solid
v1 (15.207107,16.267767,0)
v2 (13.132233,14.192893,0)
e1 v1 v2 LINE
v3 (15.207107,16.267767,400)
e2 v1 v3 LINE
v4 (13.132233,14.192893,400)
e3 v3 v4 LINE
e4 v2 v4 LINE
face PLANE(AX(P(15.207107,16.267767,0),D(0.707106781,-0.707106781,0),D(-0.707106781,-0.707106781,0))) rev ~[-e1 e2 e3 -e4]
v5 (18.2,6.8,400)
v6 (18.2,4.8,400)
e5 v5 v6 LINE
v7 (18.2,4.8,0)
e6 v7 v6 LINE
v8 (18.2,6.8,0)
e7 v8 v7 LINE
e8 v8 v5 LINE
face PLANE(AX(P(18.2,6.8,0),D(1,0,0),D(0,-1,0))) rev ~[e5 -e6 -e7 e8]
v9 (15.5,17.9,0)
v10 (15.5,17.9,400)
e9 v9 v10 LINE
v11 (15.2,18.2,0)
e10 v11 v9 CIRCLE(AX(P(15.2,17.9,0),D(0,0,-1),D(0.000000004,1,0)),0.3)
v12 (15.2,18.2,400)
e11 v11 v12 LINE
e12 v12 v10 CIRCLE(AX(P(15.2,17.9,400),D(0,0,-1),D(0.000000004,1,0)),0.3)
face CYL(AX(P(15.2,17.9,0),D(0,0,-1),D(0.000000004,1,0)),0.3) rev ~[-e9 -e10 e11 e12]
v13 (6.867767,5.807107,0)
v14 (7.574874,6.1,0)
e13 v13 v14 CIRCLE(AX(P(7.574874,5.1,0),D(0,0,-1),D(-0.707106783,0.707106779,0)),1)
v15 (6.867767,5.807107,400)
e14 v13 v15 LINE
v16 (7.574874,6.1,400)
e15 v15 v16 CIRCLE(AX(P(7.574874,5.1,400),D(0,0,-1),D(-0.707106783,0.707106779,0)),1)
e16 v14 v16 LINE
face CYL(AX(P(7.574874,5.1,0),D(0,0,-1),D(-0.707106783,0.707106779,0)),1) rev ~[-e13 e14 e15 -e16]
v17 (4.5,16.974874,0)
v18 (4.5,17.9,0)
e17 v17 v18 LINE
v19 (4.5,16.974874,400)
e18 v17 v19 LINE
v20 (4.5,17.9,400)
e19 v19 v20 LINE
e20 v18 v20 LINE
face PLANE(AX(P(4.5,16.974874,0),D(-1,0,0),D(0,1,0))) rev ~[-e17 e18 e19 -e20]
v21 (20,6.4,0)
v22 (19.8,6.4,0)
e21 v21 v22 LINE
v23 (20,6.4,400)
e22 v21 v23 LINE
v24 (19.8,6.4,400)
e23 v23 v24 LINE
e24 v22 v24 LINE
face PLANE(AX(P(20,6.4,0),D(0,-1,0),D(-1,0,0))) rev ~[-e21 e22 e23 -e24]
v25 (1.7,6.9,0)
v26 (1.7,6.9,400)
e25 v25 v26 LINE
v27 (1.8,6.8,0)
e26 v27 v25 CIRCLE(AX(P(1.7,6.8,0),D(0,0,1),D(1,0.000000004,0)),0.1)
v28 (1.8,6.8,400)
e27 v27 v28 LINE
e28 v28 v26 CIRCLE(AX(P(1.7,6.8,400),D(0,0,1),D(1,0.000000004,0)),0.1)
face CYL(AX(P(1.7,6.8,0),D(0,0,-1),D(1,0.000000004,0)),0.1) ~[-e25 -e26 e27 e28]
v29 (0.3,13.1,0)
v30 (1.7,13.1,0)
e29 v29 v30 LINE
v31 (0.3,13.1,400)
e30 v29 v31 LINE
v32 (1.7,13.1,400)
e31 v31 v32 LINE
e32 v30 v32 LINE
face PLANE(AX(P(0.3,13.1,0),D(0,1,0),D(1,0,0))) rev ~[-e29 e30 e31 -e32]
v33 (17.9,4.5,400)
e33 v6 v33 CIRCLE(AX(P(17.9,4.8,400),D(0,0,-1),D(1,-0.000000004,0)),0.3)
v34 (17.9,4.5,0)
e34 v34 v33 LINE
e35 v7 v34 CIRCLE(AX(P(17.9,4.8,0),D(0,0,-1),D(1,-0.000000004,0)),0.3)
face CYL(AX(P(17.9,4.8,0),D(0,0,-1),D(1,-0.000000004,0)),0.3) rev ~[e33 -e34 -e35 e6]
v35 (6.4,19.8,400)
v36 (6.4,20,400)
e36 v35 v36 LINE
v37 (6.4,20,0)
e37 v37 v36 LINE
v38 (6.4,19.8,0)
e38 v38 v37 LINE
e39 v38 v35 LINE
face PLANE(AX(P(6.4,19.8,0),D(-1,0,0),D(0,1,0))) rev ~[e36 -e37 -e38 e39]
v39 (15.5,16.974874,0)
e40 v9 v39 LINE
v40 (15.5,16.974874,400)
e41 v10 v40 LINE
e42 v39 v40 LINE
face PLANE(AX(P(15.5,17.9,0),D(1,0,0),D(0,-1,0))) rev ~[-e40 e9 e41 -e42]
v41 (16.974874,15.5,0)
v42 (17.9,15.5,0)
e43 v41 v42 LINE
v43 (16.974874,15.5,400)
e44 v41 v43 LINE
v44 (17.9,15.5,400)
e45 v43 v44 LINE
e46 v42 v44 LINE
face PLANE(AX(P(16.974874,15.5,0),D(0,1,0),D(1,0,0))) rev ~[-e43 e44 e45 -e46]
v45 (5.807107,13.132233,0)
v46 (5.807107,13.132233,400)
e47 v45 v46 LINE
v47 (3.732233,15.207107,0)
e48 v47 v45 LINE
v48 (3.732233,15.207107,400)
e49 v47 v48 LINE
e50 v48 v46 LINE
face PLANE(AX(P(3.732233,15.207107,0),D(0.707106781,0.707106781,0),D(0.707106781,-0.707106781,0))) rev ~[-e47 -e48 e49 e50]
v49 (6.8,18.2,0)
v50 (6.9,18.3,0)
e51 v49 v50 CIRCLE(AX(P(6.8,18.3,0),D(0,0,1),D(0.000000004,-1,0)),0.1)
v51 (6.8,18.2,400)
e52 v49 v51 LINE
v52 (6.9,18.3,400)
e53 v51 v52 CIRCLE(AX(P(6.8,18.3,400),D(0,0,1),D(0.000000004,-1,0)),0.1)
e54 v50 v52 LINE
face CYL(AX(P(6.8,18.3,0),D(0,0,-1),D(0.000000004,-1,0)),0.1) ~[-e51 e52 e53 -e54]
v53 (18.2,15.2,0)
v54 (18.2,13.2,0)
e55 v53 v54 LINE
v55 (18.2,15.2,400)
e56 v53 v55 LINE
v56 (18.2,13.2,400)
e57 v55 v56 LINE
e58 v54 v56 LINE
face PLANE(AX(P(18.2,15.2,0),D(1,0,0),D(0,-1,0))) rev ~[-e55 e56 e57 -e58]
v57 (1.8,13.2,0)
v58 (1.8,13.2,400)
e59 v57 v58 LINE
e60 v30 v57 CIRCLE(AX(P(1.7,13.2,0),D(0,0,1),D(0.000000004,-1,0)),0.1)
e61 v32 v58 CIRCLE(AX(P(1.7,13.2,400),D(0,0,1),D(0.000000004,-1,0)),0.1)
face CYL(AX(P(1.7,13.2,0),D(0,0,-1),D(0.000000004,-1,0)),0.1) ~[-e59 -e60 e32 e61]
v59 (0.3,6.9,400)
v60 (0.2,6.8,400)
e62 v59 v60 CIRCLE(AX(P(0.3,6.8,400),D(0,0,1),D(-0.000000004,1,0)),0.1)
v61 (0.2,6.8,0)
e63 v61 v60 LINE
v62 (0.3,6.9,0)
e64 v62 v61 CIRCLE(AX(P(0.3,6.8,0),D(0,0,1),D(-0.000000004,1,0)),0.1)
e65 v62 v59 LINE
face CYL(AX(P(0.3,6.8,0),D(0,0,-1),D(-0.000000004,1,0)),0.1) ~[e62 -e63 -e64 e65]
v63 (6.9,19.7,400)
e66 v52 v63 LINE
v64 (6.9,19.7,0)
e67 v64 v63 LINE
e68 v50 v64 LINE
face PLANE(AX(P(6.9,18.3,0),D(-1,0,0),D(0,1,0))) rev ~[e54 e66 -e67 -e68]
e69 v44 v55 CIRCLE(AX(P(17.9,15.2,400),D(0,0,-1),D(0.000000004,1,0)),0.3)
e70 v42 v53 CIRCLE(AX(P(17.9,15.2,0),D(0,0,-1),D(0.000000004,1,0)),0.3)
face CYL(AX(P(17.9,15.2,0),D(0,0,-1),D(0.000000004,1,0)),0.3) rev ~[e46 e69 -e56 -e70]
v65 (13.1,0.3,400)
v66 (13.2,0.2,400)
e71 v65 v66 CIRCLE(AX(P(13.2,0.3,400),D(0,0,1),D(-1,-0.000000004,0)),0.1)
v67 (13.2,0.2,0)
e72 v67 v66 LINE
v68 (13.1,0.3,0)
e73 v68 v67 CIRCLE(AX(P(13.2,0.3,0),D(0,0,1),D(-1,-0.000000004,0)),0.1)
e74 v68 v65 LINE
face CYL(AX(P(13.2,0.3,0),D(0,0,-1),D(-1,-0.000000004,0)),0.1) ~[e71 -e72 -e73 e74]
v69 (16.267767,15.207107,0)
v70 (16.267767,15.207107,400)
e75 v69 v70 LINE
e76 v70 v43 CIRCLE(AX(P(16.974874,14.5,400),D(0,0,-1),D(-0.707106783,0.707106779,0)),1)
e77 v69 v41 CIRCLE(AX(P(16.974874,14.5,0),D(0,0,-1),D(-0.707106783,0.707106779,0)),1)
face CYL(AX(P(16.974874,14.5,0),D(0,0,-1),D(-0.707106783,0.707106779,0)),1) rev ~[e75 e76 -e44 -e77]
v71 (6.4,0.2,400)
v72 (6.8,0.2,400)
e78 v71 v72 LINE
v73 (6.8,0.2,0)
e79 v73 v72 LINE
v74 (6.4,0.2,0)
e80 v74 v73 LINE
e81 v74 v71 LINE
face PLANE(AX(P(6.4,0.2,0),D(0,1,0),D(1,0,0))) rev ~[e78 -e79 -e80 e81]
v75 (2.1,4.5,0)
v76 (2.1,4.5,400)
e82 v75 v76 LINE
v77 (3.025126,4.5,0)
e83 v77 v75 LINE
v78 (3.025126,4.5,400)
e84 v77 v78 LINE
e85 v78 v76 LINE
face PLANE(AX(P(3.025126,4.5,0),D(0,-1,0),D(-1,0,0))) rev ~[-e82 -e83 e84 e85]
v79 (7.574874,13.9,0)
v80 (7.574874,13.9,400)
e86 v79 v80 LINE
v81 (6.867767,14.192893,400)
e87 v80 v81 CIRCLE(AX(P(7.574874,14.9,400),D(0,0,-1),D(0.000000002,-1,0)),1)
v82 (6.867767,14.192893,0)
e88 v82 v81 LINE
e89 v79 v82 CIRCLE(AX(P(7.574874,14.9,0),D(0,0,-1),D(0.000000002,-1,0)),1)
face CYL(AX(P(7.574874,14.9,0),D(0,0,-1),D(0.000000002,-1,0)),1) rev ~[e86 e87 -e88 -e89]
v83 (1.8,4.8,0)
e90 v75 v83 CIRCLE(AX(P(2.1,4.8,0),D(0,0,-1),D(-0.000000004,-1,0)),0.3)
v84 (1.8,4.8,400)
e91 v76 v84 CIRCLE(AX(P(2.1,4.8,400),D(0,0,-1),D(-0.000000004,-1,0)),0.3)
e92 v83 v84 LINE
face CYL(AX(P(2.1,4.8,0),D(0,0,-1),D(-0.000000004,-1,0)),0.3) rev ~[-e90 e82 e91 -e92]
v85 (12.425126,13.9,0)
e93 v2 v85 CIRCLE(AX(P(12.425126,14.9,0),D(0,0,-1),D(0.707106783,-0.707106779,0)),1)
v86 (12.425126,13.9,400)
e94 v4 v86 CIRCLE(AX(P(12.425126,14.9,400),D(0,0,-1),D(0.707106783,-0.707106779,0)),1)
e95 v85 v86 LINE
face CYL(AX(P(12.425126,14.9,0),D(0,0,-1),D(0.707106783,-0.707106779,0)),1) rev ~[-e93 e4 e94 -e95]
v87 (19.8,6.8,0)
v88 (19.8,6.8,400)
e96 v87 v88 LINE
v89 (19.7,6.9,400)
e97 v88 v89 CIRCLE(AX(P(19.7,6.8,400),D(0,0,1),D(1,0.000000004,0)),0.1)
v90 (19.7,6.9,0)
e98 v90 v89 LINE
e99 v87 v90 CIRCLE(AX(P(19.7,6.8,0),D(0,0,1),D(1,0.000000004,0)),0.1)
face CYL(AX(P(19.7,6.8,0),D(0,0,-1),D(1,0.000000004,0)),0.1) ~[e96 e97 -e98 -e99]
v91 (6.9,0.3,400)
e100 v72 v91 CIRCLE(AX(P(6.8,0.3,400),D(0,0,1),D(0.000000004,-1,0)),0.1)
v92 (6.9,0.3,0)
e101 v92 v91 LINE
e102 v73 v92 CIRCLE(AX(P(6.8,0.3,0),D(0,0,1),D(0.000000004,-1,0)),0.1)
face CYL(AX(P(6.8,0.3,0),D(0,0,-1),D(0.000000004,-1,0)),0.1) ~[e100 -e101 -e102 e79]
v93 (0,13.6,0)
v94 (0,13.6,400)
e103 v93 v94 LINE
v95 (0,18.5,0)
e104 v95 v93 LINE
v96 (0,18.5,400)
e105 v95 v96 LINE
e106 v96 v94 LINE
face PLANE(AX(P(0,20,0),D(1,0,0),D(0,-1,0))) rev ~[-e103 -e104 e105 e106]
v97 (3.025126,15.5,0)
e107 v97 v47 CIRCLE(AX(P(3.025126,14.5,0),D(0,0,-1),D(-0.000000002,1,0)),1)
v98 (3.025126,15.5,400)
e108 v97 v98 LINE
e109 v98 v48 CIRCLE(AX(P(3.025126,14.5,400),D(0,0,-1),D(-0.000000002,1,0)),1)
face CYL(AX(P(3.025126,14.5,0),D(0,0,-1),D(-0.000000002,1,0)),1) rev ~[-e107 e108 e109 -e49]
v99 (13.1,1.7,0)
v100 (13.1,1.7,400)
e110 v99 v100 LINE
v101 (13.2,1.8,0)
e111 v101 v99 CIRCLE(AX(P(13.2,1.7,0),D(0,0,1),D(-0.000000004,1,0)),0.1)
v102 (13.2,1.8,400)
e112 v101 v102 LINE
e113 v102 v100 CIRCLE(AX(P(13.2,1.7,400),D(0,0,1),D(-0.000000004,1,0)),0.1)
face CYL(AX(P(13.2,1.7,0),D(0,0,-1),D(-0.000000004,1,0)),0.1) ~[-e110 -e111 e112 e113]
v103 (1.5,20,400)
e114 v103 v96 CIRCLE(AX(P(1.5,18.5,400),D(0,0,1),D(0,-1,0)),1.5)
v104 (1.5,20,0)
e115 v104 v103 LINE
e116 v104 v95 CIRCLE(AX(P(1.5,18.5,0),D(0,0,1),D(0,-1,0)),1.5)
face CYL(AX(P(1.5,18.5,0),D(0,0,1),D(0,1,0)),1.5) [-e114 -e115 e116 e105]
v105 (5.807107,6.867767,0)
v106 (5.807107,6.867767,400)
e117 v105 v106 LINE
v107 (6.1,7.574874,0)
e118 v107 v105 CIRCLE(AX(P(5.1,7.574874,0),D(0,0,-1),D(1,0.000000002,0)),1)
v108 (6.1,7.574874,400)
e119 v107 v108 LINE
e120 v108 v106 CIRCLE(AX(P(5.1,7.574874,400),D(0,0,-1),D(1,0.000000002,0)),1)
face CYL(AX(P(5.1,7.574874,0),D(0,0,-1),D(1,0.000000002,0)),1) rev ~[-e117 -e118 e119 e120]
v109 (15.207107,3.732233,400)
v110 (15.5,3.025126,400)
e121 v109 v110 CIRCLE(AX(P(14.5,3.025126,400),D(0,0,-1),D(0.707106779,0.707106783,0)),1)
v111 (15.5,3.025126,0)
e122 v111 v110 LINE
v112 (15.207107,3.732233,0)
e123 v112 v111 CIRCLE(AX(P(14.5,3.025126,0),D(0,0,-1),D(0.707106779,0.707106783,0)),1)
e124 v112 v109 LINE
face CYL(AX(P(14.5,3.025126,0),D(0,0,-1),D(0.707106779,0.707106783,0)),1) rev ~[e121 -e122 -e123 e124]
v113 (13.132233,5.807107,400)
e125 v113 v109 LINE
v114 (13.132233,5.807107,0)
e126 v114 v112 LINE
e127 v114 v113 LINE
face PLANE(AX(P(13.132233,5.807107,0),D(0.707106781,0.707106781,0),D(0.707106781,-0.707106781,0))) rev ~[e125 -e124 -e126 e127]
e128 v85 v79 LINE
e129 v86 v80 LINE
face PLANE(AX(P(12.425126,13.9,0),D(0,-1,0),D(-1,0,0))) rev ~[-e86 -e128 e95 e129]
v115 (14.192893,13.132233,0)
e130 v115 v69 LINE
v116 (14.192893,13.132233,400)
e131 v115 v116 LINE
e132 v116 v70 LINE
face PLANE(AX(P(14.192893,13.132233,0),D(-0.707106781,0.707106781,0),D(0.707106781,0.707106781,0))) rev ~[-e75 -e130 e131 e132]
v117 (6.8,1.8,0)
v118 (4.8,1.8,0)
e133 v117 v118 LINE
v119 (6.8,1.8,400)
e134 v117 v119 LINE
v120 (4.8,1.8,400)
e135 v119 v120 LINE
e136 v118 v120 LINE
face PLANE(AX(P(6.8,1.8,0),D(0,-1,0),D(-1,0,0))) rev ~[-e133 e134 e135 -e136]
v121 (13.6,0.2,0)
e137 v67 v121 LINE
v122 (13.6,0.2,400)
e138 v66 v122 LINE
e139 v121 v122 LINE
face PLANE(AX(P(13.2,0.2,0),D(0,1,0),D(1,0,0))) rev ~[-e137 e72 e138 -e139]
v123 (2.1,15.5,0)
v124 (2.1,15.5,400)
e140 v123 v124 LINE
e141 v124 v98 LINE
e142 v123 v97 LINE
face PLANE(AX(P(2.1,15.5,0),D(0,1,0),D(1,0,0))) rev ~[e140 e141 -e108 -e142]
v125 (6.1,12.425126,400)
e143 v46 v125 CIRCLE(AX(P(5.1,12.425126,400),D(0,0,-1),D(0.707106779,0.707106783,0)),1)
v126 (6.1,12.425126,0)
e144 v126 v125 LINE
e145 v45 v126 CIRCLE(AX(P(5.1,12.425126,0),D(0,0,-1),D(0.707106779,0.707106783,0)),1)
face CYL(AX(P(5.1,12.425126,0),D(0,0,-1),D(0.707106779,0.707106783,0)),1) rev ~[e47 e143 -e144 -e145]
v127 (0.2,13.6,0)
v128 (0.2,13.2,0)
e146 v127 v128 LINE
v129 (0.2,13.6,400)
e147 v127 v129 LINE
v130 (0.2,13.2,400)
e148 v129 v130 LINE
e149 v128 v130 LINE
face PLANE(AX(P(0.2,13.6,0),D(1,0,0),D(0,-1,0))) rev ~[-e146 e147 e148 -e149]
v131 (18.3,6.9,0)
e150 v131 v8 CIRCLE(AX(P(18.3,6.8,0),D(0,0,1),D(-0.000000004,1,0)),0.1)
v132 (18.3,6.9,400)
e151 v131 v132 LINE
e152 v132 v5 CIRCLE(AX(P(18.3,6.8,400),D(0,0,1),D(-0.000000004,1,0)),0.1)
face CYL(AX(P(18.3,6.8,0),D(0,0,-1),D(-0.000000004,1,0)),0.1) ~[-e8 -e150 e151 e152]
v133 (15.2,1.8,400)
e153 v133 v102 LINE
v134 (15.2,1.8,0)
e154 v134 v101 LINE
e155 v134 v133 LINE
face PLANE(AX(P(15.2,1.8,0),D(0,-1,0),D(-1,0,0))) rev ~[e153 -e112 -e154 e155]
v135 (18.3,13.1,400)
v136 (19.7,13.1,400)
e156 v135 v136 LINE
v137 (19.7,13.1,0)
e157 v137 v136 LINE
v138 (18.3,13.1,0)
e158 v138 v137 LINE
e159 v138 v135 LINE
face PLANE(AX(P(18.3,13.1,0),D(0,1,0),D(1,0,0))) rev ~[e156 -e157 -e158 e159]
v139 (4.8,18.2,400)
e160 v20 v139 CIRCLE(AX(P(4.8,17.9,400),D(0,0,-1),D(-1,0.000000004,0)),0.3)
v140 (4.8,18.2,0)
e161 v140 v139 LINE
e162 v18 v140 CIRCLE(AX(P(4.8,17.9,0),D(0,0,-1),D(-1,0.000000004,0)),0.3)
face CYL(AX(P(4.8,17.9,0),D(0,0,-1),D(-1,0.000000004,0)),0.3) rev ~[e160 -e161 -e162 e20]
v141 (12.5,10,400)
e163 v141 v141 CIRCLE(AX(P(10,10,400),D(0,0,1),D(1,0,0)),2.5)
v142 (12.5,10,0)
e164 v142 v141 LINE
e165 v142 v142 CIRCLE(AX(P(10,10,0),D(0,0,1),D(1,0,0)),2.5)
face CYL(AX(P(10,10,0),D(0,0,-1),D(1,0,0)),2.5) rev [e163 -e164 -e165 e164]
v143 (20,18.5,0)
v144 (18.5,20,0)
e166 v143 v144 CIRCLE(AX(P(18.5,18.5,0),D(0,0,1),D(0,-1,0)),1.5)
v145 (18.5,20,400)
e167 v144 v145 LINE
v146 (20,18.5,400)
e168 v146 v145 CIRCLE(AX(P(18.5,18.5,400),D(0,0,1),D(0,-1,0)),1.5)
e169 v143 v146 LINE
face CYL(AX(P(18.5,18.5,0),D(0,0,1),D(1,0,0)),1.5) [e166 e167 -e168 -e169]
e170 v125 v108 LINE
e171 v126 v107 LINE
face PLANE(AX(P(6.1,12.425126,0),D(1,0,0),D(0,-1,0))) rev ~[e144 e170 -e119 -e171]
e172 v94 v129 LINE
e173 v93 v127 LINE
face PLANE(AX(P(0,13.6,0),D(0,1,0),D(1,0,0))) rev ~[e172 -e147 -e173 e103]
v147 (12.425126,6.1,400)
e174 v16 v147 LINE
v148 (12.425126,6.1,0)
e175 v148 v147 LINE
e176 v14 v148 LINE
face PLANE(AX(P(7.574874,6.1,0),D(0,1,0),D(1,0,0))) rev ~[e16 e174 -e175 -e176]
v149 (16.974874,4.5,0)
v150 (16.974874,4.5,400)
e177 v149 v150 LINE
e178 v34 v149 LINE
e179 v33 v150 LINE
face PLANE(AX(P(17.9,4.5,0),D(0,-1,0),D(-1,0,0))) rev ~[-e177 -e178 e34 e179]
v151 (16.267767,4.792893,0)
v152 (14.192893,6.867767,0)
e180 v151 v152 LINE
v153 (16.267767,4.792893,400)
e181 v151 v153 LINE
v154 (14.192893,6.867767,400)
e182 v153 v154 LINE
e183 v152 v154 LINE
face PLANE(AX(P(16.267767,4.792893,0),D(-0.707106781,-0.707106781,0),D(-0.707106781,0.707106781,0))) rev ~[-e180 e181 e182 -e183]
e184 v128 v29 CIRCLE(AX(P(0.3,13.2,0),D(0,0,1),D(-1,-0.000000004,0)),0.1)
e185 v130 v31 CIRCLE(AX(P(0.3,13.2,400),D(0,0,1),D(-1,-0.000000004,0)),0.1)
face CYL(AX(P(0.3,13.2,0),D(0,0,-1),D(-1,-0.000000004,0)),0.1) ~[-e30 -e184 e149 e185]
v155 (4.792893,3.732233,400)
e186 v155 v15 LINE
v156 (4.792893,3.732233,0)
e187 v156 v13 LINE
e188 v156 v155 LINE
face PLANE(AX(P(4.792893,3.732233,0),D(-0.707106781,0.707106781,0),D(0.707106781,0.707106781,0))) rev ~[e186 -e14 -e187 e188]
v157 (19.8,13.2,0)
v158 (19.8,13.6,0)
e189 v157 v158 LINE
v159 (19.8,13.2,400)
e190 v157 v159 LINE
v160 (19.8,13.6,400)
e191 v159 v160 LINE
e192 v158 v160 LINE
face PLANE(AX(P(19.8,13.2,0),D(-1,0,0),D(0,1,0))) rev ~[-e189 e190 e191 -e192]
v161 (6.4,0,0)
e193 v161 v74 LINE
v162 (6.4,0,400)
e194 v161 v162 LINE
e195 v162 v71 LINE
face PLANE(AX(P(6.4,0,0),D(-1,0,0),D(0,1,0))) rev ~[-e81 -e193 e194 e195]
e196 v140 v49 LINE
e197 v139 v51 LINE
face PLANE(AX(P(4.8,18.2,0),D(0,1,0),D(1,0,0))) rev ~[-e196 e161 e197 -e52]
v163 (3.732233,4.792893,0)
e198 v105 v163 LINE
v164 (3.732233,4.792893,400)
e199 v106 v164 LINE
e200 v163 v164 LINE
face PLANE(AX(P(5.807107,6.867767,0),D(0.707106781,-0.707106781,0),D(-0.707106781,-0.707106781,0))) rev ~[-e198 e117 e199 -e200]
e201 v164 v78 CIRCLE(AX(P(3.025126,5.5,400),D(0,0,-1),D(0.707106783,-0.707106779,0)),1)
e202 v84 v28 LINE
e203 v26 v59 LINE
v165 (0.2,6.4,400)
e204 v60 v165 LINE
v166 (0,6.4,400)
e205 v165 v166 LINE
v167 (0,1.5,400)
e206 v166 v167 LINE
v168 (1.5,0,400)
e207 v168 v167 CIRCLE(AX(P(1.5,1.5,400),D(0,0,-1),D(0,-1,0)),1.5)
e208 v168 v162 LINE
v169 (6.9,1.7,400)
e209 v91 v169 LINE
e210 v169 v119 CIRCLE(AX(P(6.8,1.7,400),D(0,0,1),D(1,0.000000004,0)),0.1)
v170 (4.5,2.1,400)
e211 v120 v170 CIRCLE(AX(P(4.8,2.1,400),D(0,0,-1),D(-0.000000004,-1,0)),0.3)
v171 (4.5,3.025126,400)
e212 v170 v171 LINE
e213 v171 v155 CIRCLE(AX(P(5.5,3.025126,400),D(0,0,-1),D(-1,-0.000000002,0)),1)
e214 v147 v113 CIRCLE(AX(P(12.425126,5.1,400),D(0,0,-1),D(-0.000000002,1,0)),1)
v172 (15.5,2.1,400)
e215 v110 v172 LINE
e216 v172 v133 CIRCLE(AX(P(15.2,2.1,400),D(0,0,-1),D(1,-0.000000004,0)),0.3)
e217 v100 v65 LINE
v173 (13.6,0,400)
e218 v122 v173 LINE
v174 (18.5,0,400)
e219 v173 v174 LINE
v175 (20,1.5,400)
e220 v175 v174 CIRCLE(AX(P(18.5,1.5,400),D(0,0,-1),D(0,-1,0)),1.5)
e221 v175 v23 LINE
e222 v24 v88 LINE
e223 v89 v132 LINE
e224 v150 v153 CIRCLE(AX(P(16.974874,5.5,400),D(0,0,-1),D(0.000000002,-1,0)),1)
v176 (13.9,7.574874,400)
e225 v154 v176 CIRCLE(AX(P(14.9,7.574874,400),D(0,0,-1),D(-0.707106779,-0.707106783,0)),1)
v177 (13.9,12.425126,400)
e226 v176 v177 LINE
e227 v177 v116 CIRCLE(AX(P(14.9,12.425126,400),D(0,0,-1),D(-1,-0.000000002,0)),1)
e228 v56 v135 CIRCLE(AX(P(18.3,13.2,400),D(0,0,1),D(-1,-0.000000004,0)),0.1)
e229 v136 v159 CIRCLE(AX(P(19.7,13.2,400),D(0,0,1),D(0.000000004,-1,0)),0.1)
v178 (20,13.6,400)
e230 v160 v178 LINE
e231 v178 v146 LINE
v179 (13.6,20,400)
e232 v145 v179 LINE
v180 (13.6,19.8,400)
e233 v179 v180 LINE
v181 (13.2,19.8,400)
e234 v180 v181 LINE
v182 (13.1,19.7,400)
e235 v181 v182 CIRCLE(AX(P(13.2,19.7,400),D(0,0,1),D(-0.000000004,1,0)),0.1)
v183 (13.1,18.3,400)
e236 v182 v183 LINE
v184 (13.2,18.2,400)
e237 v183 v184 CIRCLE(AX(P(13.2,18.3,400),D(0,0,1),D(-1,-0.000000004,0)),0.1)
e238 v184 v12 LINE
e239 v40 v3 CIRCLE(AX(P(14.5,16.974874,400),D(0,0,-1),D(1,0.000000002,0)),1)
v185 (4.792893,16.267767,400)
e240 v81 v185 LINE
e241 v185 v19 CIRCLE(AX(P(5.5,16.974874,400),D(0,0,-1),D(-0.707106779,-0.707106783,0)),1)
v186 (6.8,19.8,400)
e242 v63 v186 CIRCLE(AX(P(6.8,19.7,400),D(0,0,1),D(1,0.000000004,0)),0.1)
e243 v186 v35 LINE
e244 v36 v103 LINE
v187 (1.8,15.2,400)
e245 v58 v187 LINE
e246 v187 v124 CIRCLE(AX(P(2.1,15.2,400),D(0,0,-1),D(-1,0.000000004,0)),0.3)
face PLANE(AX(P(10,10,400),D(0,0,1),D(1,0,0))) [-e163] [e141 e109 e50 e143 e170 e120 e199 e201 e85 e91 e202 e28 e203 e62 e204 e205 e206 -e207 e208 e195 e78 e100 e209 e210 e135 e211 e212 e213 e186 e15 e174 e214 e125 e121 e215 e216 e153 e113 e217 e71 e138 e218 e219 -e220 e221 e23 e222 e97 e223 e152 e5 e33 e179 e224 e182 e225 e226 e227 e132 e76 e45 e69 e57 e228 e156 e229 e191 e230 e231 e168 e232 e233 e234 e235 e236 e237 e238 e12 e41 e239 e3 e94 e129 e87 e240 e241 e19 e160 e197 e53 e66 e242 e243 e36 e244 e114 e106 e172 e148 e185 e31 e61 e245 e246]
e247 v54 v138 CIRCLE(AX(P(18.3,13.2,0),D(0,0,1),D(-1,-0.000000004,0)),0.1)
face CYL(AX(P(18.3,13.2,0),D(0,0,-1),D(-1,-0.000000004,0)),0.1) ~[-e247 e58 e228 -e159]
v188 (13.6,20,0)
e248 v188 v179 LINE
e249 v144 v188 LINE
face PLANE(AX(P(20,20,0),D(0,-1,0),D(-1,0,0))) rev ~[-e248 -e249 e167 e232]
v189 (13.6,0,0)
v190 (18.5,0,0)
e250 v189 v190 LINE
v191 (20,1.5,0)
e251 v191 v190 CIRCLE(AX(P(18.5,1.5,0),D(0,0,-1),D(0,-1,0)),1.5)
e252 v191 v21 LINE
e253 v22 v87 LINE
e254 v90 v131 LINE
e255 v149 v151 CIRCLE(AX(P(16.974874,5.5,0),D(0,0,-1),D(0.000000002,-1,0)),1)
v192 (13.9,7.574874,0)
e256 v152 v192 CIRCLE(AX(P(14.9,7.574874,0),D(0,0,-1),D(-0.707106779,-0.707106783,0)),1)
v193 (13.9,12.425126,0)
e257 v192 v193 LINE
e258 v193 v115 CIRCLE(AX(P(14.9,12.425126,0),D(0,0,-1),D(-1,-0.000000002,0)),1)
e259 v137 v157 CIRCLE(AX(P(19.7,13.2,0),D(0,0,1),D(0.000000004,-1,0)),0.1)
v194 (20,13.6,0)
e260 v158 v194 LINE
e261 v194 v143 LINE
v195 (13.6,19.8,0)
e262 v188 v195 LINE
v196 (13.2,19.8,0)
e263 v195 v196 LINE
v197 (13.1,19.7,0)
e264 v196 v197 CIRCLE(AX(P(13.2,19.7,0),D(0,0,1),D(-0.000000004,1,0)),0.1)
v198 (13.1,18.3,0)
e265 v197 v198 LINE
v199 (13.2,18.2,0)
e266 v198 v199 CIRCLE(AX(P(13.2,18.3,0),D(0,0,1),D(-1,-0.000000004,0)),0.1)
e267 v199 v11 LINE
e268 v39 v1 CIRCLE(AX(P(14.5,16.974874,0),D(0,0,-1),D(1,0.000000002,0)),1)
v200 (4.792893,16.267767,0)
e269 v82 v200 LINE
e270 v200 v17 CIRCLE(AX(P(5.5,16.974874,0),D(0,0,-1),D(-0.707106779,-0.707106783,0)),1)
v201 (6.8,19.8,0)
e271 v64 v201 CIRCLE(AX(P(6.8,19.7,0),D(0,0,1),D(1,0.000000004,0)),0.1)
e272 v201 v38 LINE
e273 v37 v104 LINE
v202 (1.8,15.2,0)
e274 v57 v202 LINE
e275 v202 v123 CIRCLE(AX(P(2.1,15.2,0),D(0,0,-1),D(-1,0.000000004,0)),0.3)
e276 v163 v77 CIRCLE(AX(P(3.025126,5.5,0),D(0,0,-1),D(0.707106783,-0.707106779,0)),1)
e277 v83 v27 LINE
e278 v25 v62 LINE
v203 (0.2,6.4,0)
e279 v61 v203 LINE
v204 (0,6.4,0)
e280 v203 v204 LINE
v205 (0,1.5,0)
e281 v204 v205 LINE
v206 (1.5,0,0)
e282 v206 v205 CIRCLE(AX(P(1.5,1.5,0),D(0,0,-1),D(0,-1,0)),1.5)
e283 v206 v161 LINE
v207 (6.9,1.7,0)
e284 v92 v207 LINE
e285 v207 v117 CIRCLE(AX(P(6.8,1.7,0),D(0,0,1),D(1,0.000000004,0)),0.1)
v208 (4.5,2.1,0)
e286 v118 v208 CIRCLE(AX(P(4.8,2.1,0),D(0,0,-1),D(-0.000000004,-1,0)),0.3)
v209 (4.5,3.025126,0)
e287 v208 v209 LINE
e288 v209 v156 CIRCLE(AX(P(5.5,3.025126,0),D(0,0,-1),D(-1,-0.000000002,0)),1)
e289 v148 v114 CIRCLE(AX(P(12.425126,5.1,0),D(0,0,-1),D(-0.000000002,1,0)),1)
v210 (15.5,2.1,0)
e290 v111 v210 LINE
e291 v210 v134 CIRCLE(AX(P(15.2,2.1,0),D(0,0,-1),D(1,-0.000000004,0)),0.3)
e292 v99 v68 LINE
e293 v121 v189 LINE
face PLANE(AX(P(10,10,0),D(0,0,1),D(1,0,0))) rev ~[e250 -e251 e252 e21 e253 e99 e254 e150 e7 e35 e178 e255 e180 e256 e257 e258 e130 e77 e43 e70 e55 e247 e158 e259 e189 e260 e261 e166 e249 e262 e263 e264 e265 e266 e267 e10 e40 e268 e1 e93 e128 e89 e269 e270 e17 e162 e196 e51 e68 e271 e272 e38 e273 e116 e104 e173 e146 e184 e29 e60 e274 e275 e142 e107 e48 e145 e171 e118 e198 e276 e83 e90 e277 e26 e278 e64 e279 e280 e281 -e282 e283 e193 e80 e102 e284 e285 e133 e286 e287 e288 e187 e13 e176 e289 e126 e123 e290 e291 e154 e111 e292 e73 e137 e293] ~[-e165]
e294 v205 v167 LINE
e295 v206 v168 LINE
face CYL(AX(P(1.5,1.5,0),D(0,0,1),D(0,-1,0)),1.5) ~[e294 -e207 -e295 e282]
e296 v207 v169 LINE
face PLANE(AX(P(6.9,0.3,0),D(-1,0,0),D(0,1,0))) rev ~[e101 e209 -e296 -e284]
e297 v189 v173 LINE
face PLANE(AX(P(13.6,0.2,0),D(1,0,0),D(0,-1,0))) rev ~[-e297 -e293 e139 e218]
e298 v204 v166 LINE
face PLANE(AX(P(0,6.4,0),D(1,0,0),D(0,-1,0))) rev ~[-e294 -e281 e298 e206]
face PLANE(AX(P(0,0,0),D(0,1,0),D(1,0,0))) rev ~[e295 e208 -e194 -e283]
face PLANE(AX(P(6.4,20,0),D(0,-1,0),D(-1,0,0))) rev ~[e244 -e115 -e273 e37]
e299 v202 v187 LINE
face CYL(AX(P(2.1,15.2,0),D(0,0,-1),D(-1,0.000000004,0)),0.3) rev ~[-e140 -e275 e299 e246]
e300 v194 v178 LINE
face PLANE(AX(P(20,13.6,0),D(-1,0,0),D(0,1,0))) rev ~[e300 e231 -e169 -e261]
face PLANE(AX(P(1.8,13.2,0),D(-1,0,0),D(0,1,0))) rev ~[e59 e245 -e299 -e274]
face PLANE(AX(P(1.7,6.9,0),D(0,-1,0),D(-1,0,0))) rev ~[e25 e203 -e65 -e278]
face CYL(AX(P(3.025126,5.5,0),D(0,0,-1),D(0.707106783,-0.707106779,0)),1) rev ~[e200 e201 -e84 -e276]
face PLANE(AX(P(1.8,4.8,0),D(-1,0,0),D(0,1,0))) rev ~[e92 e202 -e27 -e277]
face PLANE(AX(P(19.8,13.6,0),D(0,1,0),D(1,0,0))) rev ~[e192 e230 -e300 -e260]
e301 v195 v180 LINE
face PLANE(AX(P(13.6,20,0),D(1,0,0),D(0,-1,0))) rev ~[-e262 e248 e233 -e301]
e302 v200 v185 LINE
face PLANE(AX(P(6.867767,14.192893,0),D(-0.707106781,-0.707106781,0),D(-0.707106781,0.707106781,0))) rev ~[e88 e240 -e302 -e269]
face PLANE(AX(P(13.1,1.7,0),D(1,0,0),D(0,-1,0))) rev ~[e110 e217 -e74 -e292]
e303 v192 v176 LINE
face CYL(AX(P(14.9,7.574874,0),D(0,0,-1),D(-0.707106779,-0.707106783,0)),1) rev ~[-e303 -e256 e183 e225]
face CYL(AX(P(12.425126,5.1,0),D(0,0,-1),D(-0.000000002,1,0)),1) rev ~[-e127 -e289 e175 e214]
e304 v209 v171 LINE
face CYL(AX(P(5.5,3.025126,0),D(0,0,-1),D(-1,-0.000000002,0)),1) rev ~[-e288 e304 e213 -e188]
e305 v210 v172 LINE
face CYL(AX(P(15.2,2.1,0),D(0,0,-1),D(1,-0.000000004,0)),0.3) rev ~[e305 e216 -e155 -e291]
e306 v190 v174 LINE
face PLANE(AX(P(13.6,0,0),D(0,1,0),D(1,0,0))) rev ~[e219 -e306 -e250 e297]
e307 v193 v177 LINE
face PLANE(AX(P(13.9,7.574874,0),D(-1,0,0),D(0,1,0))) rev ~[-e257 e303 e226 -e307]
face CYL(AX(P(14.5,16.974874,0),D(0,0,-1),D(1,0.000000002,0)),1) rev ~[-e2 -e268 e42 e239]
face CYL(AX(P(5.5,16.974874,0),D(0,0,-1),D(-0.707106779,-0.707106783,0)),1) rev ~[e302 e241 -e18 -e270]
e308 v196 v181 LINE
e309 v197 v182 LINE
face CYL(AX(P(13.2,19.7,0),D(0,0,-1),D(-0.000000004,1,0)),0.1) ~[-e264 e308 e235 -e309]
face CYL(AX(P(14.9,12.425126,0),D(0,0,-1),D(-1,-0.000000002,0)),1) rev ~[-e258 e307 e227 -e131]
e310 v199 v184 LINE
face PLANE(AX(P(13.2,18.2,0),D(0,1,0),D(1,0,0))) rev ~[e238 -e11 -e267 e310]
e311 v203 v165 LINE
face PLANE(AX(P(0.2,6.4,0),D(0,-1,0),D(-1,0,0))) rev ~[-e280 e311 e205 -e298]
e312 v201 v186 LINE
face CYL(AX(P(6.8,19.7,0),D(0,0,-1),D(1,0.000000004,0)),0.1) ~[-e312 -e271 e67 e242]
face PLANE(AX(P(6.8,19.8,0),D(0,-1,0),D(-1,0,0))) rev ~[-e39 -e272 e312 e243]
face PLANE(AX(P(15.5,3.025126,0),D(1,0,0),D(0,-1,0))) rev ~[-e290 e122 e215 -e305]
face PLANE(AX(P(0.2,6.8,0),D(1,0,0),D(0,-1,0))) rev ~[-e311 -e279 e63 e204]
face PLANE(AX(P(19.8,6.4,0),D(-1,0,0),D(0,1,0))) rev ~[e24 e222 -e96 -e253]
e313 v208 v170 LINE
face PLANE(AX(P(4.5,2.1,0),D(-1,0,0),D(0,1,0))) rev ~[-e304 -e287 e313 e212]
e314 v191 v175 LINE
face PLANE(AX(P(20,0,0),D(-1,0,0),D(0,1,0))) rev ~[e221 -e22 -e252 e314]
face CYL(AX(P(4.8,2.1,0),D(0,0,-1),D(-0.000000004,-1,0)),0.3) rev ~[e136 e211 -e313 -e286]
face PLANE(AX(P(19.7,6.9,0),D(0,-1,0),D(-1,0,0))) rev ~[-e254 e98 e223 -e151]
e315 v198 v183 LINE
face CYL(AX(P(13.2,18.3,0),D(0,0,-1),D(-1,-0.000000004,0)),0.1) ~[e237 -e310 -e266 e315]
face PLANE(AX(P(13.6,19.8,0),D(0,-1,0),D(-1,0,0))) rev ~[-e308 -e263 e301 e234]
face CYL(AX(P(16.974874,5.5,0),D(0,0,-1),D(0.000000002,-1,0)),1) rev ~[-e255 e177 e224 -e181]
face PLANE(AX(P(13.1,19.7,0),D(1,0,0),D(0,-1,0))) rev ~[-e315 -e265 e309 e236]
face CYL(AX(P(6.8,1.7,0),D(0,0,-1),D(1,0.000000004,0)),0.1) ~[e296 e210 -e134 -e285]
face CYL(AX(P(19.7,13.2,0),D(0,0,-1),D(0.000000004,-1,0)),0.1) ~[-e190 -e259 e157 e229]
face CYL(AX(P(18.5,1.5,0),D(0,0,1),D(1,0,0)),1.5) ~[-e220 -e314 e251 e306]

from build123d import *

# Parameters (mm, degrees)
SKETCH_1_R      = 2.5
EXTRUDE_1_DEPTH = 400
FILLET_1_R      = 1.5


with BuildPart() as part:
    # 草图1 → 凸台-拉伸1 (new body)
    with BuildSketch(Plane.XY):
        with BuildLine():
            Line((20, 13.6), (20, 20))
            Line((20, 20), (13.6, 20))
            Line((13.6, 20), (13.6, 19.8))
            Line((13.6, 19.8), (13.2, 19.8))
            ThreePointArc((13.2, 19.8), (13.129289322, 19.770710678), (13.1, 19.7))
            Line((13.1, 19.7), (13.1, 18.3))
            ThreePointArc((13.1, 18.3), (13.129289322, 18.229289322), (13.2, 18.2))
            Line((13.2, 18.2), (15.2, 18.2))
            ThreePointArc((15.2, 18.2), (15.412132034, 18.112132034), (15.5, 17.9))
            Line((15.5, 17.9), (15.5, 16.974873734))
            ThreePointArc((15.5, 16.974873734), (15.423879533, 16.592190302), (15.207106781, 16.267766953))
            Line((15.207106781, 16.267766953), (13.132233047, 14.192893219))
            ThreePointArc((13.132233047, 14.192893219), (12.807809698, 13.976120467), (12.425126266, 13.9))
            Line((12.425126266, 13.9), (7.574873734, 13.9))
            ThreePointArc((7.574873734, 13.9), (7.192190302, 13.976120467), (6.867766953, 14.192893219))
            Line((6.867766953, 14.192893219), (4.792893219, 16.267766953))
            ThreePointArc((4.792893219, 16.267766953), (4.576120467, 16.592190302), (4.5, 16.974873734))
            Line((4.5, 16.974873734), (4.5, 17.9))
            ThreePointArc((4.5, 17.9), (4.587867966, 18.112132034), (4.8, 18.2))
            Line((4.8, 18.2), (6.8, 18.2))
            ThreePointArc((6.8, 18.2), (6.870710678, 18.229289322), (6.9, 18.3))
            Line((6.9, 18.3), (6.9, 19.7))
            ThreePointArc((6.9, 19.7), (6.870710678, 19.770710678), (6.8, 19.8))
            Line((6.8, 19.8), (6.4, 19.8))
            Line((6.4, 19.8), (6.4, 20))
            Line((6.4, 20), (0, 20))
            Line((0, 20), (0, 13.6))
            Line((0, 13.6), (0.2, 13.6))
            Line((0.2, 13.6), (0.2, 13.2))
            ThreePointArc((0.2, 13.2), (0.229289322, 13.129289322), (0.3, 13.1))
            Line((0.3, 13.1), (1.7, 13.1))
            ThreePointArc((1.7, 13.1), (1.770710678, 13.129289322), (1.8, 13.2))
            Line((1.8, 13.2), (1.8, 15.2))
            ThreePointArc((1.8, 15.2), (1.887867966, 15.412132034), (2.1, 15.5))
            Line((2.1, 15.5), (3.025126266, 15.5))
            ThreePointArc((3.025126266, 15.5), (3.407809698, 15.423879533), (3.732233047, 15.207106781))
            Line((3.732233047, 15.207106781), (5.807106781, 13.132233047))
            ThreePointArc((5.807106781, 13.132233047), (6.023879533, 12.807809698), (6.1, 12.425126266))
            Line((6.1, 12.425126266), (6.1, 7.574873734))
            ThreePointArc((6.1, 7.574873734), (6.023879533, 7.192190302), (5.807106781, 6.867766953))
            Line((5.807106781, 6.867766953), (3.732233047, 4.792893219))
            ThreePointArc((3.732233047, 4.792893219), (3.407809698, 4.576120467), (3.025126266, 4.5))
            Line((3.025126266, 4.5), (2.1, 4.5))
            ThreePointArc((2.1, 4.5), (1.887867966, 4.587867966), (1.8, 4.8))
            Line((1.8, 4.8), (1.8, 6.8))
            ThreePointArc((1.8, 6.8), (1.770710678, 6.870710678), (1.7, 6.9))
            Line((1.7, 6.9), (0.3, 6.9))
            ThreePointArc((0.3, 6.9), (0.229289322, 6.870710678), (0.2, 6.8))
            Line((0.2, 6.8), (0.2, 6.4))
            Line((0.2, 6.4), (0, 6.4))
            Line((0, 6.4), (0, 0))
            Line((0, 0), (6.4, 0))
            Line((6.4, 0), (6.4, 0.2))
            Line((6.4, 0.2), (6.8, 0.2))
            ThreePointArc((6.8, 0.2), (6.870710678, 0.229289322), (6.9, 0.3))
            Line((6.9, 0.3), (6.9, 1.7))
            ThreePointArc((6.9, 1.7), (6.870710678, 1.770710678), (6.8, 1.8))
            Line((6.8, 1.8), (4.8, 1.8))
            ThreePointArc((4.8, 1.8), (4.587867966, 1.887867966), (4.5, 2.1))
            Line((4.5, 2.1), (4.5, 3.025126266))
            ThreePointArc((4.5, 3.025126266), (4.576120467, 3.407809698), (4.792893219, 3.732233047))
            Line((4.792893219, 3.732233047), (6.867766953, 5.807106781))
            ThreePointArc((6.867766953, 5.807106781), (7.192190302, 6.023879533), (7.574873734, 6.1))
            Line((7.574873734, 6.1), (12.425126266, 6.1))
            ThreePointArc((12.425126266, 6.1), (12.807809698, 6.023879533), (13.132233047, 5.807106781))
            Line((13.132233047, 5.807106781), (15.207106781, 3.732233047))
            ThreePointArc((15.207106781, 3.732233047), (15.423879533, 3.407809698), (15.5, 3.025126266))
            Line((15.5, 3.025126266), (15.5, 2.1))
            ThreePointArc((15.5, 2.1), (15.412132034, 1.887867966), (15.2, 1.8))
            Line((15.2, 1.8), (13.2, 1.8))
            ThreePointArc((13.2, 1.8), (13.129289322, 1.770710678), (13.1, 1.7))
            Line((13.1, 1.7), (13.1, 0.3))
            ThreePointArc((13.1, 0.3), (13.129289322, 0.229289322), (13.2, 0.2))
            Line((13.2, 0.2), (13.6, 0.2))
            Line((13.6, 0.2), (13.6, 0))
            Line((13.6, 0), (20, 0))
            Line((20, 0), (20, 6.4))
            Line((20, 6.4), (19.8, 6.4))
            Line((19.8, 6.4), (19.8, 6.8))
            ThreePointArc((19.8, 6.8), (19.770710678, 6.870710678), (19.7, 6.9))
            Line((19.7, 6.9), (18.3, 6.9))
            ThreePointArc((18.3, 6.9), (18.229289322, 6.870710678), (18.2, 6.8))
            Line((18.2, 6.8), (18.2, 4.8))
            ThreePointArc((18.2, 4.8), (18.112132034, 4.587867966), (17.9, 4.5))
            Line((17.9, 4.5), (16.974873734, 4.5))
            ThreePointArc((16.974873734, 4.5), (16.592190302, 4.576120467), (16.267766953, 4.792893219))
            Line((16.267766953, 4.792893219), (14.192893219, 6.867766953))
            ThreePointArc((14.192893219, 6.867766953), (13.976120467, 7.192190302), (13.9, 7.574873734))
            Line((13.9, 7.574873734), (13.9, 12.425126266))
            ThreePointArc((13.9, 12.425126266), (13.976120467, 12.807809698), (14.192893219, 13.132233047))
            Line((14.192893219, 13.132233047), (16.267766953, 15.207106781))
            ThreePointArc((16.267766953, 15.207106781), (16.592190302, 15.423879533), (16.974873734, 15.5))
            Line((16.974873734, 15.5), (17.9, 15.5))
            ThreePointArc((17.9, 15.5), (18.112132034, 15.412132034), (18.2, 15.2))
            Line((18.2, 15.2), (18.2, 13.2))
            ThreePointArc((18.2, 13.2), (18.229289322, 13.129289322), (18.3, 13.1))
            Line((18.3, 13.1), (19.7, 13.1))
            ThreePointArc((19.7, 13.1), (19.770710678, 13.129289322), (19.8, 13.2))
            Line((19.8, 13.2), (19.8, 13.6))
            Line((19.8, 13.6), (20, 13.6))
        make_face()
        with Locations((10, 10)):
            Circle(SKETCH_1_R, mode=Mode.SUBTRACT)
    extrude(amount=EXTRUDE_1_DEPTH)

    # 圆角1
    fillet_1_edges = [part.edges().sort_by_distance(p)[0] for p in [
        (0, 0, 200),
        (0, 20, 200),
        (20, 20, 200),
        (20, 0, 200),
    ]]
    fillet(fillet_1_edges, radius=FILLET_1_R)


solid = part.part
